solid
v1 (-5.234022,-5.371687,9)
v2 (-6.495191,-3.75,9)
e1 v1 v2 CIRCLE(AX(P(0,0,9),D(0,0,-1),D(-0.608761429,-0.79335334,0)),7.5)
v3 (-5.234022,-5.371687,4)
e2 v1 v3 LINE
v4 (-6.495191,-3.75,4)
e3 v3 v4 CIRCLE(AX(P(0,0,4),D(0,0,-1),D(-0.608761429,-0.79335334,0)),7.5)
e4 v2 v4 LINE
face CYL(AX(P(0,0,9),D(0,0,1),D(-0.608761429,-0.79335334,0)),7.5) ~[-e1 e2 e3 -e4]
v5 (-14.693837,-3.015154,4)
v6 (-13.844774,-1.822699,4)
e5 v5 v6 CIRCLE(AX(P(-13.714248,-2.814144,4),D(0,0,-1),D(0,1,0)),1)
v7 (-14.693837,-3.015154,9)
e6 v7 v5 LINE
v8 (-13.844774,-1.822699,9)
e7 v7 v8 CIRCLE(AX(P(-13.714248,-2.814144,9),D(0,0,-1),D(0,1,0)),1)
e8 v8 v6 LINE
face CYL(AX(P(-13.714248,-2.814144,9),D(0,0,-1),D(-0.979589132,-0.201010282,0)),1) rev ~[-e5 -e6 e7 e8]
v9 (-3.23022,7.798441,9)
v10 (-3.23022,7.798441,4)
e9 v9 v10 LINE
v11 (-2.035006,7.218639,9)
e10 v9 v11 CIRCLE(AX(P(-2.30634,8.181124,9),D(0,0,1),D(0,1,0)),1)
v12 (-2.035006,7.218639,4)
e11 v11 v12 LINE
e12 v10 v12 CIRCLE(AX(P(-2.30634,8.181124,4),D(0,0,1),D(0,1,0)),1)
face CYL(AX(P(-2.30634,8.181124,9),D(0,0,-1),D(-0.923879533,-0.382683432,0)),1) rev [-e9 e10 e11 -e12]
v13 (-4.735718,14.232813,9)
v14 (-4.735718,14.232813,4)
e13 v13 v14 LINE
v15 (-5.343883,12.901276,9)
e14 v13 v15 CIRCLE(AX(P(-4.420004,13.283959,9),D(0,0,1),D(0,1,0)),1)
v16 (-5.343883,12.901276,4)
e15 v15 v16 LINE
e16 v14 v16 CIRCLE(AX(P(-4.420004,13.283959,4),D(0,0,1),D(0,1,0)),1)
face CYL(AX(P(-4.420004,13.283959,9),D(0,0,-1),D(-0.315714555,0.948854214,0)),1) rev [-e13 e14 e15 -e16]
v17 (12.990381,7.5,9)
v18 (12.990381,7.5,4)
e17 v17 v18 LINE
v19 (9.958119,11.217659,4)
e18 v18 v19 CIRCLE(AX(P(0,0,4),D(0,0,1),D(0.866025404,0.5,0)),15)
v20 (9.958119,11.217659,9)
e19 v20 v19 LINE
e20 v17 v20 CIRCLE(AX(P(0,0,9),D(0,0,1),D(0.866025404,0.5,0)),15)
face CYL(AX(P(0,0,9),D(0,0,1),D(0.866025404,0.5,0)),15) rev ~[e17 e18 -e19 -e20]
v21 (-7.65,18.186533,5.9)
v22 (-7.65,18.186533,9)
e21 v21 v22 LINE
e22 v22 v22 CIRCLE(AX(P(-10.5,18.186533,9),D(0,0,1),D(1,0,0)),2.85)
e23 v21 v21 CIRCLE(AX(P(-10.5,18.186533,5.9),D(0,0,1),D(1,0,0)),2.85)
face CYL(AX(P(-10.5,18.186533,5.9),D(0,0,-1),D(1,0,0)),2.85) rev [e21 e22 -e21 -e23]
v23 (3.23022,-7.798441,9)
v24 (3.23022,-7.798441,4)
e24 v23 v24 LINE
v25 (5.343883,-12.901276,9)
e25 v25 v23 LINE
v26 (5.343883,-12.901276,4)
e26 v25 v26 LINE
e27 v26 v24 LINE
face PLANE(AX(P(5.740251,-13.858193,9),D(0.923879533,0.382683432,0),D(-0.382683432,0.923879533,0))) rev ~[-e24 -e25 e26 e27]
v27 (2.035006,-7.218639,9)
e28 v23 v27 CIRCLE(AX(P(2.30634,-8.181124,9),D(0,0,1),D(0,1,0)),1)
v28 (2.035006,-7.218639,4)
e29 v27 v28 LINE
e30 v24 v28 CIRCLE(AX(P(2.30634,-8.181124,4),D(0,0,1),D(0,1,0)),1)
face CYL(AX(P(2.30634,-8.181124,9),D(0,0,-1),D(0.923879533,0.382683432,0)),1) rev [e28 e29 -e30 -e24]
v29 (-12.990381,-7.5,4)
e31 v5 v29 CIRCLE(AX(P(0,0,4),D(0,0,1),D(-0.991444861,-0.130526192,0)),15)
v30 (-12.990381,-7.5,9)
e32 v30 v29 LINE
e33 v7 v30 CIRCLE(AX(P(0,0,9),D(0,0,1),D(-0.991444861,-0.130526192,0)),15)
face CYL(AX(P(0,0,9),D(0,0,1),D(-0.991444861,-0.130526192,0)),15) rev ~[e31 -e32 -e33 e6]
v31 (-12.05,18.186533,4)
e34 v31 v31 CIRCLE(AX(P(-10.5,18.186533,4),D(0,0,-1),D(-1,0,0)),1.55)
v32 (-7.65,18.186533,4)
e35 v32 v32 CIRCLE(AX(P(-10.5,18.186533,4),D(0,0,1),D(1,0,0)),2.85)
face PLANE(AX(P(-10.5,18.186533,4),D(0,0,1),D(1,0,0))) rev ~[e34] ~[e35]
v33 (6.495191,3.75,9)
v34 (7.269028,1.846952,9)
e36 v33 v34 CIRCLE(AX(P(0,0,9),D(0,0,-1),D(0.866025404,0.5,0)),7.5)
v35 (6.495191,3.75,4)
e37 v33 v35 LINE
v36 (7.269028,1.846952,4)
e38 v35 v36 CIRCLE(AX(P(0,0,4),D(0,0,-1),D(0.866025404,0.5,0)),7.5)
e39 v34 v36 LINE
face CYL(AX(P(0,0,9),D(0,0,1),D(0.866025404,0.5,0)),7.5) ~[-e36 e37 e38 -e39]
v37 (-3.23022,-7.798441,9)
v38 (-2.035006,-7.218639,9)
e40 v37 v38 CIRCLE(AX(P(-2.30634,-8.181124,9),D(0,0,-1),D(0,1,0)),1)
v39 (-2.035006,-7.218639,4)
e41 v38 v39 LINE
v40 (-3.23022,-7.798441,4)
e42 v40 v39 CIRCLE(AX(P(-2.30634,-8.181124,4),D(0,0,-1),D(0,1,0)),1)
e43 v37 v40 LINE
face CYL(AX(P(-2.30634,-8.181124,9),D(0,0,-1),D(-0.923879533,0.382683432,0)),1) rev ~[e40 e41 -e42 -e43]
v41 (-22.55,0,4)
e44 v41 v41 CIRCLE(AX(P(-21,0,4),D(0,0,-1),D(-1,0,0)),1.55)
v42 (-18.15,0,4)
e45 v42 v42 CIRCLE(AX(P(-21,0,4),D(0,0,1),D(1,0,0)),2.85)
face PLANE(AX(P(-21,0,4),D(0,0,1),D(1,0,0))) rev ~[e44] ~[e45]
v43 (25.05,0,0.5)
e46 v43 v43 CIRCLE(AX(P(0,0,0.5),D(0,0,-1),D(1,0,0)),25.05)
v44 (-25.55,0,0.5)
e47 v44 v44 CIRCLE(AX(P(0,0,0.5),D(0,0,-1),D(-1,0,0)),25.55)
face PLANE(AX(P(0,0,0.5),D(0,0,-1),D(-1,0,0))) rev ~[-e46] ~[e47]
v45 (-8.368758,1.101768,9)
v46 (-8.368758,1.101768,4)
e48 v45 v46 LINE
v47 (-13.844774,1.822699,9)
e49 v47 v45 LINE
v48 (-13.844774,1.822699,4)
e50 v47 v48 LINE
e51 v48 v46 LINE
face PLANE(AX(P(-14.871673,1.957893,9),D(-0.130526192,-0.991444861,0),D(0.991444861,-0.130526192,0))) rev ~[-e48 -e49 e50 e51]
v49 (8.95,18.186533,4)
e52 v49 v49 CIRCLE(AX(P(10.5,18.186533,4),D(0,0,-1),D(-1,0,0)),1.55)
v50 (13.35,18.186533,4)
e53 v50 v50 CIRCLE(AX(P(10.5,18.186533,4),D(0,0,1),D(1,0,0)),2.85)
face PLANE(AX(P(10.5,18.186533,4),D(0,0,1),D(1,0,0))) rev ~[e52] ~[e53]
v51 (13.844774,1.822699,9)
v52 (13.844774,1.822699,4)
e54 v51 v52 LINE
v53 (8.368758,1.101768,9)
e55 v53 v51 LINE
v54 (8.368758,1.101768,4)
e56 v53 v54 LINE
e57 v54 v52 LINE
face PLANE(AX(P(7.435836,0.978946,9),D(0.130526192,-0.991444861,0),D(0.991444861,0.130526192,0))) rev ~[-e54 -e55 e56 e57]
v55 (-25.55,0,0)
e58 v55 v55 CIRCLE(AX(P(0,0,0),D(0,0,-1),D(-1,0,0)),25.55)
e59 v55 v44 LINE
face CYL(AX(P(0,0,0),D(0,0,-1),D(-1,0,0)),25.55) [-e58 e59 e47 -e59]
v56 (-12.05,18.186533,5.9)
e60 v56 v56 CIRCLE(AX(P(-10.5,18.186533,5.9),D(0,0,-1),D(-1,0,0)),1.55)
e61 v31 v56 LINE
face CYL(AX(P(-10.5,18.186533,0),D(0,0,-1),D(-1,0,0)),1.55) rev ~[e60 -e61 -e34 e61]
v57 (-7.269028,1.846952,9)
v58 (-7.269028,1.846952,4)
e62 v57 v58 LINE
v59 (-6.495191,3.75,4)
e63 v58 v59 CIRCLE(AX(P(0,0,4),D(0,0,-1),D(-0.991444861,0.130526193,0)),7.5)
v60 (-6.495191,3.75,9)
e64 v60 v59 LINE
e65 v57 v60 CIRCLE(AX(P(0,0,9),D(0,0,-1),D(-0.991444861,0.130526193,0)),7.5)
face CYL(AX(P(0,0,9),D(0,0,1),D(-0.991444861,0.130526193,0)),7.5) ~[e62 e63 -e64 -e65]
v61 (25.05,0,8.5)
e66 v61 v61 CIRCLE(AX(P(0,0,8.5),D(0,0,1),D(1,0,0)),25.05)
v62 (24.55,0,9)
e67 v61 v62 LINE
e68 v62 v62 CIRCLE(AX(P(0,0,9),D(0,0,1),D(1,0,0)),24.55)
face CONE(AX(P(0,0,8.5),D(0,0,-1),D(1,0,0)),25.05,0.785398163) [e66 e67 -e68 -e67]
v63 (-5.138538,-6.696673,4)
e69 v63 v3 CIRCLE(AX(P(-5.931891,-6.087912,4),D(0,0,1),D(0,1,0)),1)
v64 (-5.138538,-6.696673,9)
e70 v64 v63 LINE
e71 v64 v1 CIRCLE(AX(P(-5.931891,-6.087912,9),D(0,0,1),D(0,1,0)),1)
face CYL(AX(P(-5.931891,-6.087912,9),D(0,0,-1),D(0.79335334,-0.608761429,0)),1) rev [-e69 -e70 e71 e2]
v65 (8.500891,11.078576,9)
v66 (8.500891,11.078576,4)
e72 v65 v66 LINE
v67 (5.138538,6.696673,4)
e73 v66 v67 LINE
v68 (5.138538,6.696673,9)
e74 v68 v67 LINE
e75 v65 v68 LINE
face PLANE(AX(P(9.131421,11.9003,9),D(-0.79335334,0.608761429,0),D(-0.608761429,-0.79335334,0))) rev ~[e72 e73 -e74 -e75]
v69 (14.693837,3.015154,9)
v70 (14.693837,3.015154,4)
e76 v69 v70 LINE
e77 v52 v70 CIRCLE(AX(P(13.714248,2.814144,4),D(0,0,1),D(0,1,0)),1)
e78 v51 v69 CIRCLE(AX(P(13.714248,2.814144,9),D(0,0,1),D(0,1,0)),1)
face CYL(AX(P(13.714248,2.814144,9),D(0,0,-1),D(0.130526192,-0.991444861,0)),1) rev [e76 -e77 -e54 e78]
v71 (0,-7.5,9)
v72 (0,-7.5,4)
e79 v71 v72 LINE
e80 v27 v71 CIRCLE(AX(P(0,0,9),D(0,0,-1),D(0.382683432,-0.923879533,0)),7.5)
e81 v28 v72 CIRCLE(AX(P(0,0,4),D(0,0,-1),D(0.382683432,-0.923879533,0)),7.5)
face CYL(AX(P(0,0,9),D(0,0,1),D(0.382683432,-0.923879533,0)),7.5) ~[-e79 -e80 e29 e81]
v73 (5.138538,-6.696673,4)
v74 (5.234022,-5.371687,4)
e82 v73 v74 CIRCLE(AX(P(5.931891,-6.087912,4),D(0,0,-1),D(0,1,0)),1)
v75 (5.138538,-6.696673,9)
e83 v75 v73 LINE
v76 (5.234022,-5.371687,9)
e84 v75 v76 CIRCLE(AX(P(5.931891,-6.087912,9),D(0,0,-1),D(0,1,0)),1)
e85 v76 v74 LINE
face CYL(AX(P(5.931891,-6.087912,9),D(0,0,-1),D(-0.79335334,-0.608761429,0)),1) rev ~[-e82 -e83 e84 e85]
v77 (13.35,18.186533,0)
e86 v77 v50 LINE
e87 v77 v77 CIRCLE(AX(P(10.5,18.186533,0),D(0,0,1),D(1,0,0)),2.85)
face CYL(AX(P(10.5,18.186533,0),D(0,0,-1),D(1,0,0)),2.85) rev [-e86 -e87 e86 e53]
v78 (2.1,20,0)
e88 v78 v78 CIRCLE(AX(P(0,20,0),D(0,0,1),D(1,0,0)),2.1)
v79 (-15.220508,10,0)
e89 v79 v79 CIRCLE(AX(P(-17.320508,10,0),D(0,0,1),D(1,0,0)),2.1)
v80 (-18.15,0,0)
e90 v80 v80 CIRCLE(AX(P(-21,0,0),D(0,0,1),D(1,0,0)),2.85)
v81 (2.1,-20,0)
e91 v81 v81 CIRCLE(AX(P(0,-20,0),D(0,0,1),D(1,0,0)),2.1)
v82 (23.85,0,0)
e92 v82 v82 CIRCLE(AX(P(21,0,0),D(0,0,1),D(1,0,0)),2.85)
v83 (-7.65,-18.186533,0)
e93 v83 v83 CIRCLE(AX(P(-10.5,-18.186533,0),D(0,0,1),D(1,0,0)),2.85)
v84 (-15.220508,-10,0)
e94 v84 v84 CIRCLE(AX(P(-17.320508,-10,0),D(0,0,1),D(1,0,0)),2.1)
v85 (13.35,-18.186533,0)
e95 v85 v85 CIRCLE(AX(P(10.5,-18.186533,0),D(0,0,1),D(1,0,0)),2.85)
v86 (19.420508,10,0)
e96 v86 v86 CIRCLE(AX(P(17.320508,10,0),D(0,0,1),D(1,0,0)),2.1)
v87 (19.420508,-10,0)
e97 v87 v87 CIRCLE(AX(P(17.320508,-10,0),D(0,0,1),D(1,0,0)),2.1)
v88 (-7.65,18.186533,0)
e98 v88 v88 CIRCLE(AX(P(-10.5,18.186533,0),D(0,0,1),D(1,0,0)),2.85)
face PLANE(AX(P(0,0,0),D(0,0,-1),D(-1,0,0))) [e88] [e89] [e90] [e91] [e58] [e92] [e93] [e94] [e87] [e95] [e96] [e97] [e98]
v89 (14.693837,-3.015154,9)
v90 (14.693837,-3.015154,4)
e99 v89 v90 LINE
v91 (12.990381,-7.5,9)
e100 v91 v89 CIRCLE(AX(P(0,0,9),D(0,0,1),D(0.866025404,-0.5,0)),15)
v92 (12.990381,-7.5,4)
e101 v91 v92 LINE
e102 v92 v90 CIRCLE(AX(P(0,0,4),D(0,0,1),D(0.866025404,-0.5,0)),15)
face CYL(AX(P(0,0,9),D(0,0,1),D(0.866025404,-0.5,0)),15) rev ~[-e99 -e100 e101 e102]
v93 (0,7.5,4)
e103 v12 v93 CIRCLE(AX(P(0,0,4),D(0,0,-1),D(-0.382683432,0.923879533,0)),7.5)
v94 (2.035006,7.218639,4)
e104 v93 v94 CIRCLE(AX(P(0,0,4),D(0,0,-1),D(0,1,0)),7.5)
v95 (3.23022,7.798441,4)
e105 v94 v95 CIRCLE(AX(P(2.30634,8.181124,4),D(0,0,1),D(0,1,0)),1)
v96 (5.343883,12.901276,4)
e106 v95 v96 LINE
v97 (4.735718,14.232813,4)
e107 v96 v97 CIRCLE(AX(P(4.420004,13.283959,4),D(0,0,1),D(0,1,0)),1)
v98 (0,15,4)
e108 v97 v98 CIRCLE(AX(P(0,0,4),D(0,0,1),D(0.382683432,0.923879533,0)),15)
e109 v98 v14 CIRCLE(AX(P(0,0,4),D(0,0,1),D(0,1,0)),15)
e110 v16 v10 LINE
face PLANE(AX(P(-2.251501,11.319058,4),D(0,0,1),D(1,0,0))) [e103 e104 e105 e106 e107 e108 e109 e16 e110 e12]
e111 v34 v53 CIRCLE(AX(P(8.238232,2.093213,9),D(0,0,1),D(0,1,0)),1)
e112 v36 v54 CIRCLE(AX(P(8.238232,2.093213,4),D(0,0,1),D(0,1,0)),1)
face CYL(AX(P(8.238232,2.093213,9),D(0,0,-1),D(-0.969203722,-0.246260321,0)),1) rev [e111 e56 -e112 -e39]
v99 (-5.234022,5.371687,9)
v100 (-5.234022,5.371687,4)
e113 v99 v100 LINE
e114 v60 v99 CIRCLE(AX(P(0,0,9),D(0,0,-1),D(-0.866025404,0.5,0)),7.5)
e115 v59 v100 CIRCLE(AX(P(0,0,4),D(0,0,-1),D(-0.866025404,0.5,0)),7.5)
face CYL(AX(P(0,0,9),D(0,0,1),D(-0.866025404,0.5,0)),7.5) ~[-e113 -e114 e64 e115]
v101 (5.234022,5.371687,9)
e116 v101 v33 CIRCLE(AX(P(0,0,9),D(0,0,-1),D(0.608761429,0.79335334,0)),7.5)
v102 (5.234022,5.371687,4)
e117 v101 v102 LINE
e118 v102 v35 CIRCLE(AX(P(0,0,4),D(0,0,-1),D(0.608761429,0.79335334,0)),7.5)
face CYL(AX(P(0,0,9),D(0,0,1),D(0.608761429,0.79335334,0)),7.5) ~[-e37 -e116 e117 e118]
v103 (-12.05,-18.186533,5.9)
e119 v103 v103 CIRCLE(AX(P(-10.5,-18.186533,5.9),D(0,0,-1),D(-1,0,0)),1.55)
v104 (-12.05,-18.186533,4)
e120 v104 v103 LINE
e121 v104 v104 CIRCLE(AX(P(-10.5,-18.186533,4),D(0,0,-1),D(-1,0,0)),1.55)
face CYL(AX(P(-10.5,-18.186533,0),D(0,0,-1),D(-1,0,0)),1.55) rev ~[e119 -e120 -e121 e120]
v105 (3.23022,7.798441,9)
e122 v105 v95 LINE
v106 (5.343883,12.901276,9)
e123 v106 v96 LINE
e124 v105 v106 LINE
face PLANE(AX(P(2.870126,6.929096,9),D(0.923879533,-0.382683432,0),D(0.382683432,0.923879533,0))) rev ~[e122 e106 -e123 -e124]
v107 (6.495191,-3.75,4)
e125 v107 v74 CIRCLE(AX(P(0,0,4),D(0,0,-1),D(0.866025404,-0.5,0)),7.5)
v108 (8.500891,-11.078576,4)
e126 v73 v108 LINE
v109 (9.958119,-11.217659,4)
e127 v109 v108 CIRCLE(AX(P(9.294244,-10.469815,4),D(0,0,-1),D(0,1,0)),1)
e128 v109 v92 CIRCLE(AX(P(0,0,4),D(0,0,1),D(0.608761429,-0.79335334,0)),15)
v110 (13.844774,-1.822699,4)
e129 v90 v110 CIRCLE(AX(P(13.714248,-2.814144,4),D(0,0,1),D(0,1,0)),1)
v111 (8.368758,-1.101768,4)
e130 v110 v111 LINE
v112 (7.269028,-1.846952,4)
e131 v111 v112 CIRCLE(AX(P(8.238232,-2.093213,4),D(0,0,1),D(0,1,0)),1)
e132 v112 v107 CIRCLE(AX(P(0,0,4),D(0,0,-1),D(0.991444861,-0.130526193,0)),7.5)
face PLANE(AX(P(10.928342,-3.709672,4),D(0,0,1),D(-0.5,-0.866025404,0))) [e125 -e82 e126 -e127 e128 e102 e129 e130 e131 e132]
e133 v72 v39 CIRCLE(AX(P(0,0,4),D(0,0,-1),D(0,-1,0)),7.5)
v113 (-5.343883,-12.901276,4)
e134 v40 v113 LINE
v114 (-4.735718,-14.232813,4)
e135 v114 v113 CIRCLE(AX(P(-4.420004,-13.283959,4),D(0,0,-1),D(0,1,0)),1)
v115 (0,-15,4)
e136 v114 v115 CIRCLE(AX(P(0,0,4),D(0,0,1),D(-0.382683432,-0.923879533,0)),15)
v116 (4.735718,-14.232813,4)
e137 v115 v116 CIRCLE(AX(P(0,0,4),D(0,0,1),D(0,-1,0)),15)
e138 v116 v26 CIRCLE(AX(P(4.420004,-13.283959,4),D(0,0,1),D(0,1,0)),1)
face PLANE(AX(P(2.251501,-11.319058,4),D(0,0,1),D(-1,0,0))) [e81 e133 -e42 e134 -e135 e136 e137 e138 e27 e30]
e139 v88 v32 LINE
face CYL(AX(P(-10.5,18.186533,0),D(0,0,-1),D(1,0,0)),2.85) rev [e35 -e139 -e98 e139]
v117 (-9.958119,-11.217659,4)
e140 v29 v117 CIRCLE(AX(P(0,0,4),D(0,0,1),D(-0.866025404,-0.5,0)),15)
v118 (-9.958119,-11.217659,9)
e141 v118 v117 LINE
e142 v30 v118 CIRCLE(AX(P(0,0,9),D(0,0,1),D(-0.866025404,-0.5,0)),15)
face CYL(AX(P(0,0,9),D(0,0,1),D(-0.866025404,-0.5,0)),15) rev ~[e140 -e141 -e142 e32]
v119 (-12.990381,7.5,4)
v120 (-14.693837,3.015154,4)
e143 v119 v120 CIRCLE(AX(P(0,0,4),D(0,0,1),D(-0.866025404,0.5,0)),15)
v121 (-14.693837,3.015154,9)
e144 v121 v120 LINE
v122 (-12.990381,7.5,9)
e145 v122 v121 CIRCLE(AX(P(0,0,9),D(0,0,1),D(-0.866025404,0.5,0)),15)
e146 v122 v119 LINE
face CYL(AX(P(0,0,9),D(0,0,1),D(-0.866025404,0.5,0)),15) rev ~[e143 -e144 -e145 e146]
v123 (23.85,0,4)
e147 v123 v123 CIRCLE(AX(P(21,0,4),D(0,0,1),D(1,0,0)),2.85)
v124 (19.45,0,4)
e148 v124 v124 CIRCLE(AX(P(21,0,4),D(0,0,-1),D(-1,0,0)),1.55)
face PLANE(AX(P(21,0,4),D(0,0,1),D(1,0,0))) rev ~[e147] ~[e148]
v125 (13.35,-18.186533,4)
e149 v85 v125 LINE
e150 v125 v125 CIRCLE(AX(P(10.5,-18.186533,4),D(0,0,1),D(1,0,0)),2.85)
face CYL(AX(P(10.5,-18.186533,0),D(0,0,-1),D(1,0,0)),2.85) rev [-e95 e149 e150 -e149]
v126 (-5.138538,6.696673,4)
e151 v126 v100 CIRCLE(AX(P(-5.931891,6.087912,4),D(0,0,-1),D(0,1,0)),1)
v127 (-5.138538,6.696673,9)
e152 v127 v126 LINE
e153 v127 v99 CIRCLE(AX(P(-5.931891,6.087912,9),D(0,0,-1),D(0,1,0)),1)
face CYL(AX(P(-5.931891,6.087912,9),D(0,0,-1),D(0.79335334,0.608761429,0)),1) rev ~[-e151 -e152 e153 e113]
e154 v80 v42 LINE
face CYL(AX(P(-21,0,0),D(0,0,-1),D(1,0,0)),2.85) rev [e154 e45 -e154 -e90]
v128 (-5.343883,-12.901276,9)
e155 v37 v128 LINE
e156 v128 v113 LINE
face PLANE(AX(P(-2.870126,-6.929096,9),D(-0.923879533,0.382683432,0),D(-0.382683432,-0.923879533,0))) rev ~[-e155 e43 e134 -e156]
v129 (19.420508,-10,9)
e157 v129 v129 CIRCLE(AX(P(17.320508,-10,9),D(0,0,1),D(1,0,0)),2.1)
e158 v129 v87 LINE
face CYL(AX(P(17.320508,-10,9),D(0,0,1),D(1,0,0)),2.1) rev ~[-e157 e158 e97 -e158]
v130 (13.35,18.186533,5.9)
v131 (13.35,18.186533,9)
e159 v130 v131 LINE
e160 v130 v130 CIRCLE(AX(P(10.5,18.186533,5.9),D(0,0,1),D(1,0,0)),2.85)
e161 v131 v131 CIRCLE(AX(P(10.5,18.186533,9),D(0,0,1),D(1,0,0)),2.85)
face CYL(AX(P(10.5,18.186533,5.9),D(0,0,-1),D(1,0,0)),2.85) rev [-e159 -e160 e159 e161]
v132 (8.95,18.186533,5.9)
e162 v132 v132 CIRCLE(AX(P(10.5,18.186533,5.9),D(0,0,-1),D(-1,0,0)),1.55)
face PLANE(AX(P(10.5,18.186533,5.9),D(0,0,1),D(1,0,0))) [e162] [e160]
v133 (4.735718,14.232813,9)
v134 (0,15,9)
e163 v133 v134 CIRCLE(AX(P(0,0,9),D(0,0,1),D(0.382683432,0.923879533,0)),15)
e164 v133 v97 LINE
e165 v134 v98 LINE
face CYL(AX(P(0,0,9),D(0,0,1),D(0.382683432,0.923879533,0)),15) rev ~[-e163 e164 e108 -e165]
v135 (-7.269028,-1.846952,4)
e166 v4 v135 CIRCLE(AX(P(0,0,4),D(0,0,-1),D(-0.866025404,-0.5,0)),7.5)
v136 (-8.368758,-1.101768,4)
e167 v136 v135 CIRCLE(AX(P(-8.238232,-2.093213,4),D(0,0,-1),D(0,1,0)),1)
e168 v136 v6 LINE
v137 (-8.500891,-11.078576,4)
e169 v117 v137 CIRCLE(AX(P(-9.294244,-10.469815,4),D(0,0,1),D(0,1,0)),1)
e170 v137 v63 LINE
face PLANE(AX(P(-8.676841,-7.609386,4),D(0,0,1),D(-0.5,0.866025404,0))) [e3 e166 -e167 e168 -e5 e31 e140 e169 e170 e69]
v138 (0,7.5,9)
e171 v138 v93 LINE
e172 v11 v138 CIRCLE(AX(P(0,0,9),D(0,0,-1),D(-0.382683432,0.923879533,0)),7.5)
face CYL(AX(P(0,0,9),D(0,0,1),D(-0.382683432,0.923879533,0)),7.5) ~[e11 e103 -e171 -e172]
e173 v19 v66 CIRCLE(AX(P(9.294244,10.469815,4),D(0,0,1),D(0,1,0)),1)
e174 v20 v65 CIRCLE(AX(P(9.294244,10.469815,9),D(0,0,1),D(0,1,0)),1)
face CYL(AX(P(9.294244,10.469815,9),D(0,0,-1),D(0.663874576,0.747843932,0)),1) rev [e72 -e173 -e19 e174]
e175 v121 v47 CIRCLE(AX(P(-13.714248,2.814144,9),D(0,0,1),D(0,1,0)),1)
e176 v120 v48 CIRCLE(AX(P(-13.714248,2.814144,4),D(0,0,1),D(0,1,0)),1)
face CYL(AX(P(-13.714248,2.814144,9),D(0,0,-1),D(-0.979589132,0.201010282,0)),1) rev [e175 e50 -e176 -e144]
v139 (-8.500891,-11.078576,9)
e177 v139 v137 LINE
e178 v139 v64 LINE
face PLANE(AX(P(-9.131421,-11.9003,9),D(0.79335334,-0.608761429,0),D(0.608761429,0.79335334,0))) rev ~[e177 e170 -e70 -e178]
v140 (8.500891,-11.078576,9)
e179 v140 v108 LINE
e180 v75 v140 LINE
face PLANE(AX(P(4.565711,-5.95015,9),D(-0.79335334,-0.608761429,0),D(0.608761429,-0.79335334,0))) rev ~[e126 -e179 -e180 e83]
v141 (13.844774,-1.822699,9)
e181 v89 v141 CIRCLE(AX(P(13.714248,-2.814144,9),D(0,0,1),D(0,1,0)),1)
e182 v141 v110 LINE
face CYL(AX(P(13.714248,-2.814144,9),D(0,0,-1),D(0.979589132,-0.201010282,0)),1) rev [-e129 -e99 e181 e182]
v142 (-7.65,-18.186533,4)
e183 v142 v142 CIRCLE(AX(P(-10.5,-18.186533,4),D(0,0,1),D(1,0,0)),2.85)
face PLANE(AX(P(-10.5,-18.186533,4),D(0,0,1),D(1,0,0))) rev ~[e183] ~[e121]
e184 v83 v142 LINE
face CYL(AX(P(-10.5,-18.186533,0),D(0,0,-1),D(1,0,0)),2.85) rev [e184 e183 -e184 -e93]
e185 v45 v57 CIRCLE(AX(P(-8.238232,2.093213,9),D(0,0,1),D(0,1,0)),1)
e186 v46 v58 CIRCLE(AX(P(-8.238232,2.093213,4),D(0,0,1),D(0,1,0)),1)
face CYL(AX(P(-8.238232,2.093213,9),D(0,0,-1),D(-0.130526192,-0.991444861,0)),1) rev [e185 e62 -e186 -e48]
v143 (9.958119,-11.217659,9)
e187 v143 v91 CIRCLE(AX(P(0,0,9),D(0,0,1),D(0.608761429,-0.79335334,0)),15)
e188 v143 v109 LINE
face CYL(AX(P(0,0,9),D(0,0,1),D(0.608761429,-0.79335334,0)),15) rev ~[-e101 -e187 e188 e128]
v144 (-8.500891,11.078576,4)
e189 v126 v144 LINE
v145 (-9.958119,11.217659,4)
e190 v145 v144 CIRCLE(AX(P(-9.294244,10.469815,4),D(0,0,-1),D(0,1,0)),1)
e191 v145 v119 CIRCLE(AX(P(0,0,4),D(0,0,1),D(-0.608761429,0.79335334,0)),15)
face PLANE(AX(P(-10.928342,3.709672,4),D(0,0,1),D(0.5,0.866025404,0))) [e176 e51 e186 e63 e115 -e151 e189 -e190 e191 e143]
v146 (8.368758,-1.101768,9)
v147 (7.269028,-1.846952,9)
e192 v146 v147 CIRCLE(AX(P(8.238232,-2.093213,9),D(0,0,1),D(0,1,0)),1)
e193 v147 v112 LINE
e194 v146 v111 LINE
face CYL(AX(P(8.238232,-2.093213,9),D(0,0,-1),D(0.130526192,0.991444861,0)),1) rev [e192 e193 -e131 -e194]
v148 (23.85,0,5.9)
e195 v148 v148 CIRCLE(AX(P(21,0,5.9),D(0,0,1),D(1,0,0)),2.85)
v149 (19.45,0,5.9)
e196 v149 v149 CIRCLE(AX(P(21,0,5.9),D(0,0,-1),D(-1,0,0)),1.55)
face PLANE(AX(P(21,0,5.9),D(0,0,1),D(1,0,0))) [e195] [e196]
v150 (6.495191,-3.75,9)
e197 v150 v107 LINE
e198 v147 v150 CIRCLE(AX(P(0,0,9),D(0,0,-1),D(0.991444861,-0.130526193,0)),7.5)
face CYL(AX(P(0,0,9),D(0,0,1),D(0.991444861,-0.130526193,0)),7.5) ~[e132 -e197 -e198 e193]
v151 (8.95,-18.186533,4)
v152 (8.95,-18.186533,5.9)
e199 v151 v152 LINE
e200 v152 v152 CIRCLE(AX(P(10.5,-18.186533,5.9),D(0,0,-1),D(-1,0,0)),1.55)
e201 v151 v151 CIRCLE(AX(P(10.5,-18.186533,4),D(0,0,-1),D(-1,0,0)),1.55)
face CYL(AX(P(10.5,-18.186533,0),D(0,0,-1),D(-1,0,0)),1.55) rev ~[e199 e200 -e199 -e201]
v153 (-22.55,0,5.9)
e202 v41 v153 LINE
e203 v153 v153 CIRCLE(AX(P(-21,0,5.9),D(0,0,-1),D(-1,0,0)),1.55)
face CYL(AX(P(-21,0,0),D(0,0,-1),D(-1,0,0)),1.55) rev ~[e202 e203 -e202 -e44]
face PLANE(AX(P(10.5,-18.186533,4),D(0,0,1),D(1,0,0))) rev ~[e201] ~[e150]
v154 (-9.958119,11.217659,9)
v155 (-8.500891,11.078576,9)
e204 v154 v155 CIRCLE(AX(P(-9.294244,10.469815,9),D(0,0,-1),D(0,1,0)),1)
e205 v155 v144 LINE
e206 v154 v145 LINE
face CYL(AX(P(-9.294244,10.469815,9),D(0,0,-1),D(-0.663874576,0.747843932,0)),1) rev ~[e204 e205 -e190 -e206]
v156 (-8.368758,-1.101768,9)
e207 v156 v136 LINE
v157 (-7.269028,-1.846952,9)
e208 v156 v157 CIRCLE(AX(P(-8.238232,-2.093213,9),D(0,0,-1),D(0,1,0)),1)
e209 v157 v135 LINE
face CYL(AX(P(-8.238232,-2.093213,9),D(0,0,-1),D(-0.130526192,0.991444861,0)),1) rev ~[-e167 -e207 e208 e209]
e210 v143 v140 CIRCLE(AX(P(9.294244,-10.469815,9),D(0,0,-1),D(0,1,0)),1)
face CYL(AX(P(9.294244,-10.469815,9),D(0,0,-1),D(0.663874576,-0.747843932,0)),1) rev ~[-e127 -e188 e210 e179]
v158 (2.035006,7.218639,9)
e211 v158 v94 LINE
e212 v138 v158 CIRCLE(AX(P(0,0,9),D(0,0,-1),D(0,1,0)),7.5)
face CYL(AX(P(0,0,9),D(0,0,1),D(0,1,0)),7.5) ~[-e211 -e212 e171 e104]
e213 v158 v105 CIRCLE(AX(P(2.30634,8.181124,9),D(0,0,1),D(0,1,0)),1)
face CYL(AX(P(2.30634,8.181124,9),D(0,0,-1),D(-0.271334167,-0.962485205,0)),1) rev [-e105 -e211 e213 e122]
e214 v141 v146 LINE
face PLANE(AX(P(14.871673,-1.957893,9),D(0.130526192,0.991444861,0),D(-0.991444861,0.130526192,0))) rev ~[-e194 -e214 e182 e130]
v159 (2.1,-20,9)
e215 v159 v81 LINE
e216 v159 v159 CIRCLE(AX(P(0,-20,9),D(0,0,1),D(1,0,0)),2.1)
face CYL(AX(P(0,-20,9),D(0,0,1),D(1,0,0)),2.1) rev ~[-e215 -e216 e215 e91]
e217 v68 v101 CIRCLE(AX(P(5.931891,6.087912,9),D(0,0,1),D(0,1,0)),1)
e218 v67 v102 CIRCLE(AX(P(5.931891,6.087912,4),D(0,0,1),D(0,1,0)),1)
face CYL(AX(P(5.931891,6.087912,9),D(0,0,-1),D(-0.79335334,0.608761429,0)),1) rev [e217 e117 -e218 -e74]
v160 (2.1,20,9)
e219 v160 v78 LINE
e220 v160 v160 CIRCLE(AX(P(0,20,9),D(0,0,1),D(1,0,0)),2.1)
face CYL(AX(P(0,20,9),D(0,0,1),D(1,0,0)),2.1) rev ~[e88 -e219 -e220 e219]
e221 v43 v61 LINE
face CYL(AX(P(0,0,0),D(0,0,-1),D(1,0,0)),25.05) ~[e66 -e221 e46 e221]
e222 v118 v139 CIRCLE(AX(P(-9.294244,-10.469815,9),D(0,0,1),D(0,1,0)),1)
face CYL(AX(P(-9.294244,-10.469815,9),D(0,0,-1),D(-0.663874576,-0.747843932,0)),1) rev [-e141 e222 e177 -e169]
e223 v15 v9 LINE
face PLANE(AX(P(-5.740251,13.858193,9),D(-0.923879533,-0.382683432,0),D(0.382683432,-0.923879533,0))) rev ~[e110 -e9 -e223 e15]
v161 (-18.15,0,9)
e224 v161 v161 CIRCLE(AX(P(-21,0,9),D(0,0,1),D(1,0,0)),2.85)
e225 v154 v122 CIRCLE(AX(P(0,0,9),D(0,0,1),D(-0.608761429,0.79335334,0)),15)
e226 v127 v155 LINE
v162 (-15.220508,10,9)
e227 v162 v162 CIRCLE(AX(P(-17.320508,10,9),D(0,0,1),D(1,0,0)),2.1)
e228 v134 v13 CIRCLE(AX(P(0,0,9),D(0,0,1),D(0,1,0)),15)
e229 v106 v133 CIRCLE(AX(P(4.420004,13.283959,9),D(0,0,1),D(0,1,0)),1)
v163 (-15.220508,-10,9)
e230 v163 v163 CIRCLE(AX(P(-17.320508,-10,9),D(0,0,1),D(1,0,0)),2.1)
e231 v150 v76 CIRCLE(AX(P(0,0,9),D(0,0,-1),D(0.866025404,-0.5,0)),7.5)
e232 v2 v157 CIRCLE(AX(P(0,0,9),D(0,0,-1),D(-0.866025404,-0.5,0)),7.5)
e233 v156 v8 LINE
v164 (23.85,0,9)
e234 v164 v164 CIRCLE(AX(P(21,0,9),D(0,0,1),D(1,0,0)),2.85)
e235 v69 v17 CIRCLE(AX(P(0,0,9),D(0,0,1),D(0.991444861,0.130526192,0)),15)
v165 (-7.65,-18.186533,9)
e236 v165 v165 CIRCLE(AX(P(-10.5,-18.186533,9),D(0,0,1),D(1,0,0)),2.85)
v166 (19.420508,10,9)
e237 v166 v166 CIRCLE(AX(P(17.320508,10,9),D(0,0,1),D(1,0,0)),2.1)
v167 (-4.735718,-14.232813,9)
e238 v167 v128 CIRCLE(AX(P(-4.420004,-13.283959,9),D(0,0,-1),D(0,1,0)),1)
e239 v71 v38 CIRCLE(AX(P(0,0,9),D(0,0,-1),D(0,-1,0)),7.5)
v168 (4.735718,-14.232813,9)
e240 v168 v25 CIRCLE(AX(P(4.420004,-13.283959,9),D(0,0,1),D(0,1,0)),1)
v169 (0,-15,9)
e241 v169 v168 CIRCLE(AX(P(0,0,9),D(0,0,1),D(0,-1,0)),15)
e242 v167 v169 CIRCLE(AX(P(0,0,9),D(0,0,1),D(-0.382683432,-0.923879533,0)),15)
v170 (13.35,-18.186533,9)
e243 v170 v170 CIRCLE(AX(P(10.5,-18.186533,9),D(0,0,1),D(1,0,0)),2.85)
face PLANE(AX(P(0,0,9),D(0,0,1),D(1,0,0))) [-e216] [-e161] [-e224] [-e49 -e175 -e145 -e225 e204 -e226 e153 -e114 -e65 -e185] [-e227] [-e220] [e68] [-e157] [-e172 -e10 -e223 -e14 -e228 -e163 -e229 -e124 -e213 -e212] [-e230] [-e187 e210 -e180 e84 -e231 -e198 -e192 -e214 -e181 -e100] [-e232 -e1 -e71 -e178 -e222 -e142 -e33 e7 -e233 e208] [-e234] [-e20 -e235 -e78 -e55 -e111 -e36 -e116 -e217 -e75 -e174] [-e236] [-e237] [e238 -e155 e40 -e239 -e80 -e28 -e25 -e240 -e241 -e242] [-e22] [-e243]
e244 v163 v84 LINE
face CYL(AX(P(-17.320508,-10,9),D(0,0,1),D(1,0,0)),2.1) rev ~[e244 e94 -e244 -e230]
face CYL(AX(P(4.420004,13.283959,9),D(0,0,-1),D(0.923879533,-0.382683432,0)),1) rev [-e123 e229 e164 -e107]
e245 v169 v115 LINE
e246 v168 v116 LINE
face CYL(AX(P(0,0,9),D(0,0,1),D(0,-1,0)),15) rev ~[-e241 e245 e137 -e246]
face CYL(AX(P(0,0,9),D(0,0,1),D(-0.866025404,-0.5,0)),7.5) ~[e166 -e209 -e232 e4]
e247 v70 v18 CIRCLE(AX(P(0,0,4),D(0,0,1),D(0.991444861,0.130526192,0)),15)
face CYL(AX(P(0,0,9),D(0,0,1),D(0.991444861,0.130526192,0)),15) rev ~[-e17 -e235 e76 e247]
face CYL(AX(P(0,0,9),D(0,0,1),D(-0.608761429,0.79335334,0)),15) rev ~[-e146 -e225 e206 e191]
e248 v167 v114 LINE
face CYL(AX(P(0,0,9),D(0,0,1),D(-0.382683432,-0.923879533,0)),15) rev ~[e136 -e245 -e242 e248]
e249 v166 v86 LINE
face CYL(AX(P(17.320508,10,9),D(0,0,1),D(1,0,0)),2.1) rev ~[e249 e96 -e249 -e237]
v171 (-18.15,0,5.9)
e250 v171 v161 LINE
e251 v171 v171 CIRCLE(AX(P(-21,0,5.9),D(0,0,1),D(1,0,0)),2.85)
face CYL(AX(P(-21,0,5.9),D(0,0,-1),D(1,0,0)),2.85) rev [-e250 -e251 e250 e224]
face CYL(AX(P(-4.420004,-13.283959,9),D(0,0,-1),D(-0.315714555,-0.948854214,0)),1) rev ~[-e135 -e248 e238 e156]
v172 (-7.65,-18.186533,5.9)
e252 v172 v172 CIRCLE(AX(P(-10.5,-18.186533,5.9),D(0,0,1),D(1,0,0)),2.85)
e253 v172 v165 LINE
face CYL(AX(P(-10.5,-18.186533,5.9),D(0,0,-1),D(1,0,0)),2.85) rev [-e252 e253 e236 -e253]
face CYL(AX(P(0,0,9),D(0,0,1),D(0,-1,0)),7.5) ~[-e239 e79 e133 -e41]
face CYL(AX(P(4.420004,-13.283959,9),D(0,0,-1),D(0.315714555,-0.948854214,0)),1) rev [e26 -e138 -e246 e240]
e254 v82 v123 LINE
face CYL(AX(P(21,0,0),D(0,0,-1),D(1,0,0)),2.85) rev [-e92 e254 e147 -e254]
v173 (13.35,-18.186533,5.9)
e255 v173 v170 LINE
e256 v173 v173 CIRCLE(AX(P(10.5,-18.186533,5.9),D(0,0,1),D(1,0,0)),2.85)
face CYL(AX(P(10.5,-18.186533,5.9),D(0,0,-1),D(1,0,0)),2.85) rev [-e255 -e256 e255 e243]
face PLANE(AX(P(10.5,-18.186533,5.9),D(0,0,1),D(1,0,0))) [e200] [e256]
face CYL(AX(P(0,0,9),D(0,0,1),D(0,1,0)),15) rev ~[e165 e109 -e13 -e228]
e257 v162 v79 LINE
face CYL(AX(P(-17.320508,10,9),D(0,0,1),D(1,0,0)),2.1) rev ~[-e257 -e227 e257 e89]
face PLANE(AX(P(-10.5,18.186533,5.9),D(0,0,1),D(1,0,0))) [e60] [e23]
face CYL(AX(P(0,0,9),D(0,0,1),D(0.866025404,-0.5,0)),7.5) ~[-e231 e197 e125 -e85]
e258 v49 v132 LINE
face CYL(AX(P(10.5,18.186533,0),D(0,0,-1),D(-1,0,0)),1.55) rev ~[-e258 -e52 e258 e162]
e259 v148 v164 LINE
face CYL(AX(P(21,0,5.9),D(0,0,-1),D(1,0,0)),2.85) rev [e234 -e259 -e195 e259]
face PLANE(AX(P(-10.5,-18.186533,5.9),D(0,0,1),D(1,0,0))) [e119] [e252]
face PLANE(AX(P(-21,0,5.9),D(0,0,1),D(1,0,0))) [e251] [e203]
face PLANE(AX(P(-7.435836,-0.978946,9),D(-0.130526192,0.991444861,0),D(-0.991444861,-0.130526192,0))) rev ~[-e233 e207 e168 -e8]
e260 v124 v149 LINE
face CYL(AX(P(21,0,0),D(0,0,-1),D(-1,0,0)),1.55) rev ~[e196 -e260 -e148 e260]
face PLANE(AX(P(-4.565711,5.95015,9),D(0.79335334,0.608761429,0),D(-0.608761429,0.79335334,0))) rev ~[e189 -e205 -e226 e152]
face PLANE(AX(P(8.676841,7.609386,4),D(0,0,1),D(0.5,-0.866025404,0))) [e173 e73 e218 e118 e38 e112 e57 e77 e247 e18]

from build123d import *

# Parameters (mm, degrees)
OUTPUT_MASTER_SKETCH_R   = 25.05
BOSS_EXTRUDE1_DEPTH      = 9
SKETCH4_R                = 2.85
CUT_EXTRUDE1_DEPTH       = 4
SKETCH5_R                = 25.55
SKETCH5_R_2              = 25.05
BOSS_EXTRUDE2_DEPTH      = 0.5
SKETCH6_R                = 1.55
CUT_EXTRUDE2_DEPTH       = 38.237145433
CUT_EXTRUDE3_START       = -3.1
SKETCH7_R                = 2.85
CUT_EXTRUDE3_DEPTH       = 3.1
CHAMFER1_SIZE            = 0.5
SKETCH10_R               = 2.1
M4_THRU_DEPTH            = 38.237145433
CUT_EXTRUDE4_DEPTH       = 5
FILLET1_R                = 1
CIRPATTERN1_COUNT        = 6
FILLET1_OF_CIRPATTERN1_R = 1


with BuildPart() as part:
    # Output Master Sketch → Boss-Extrude1 (new body)
    with BuildSketch(Plane.XY):
        Circle(OUTPUT_MASTER_SKETCH_R)
    extrude(amount=BOSS_EXTRUDE1_DEPTH)

    # Sketch4 → Cut-Extrude1 (cut)
    with BuildSketch(Plane.XY):
        with Locations((21, 0)):
            Circle(SKETCH4_R)
        with Locations((10.5, -18.186533479)):
            Circle(SKETCH4_R)
        with Locations((-10.5, -18.186533479)):
            Circle(SKETCH4_R)
        with Locations((-21, 0)):
            Circle(SKETCH4_R)
        with Locations((-10.5, 18.186533479)):
            Circle(SKETCH4_R)
        with Locations((10.5, 18.186533479)):
            Circle(SKETCH4_R)
    extrude(amount=CUT_EXTRUDE1_DEPTH, mode=Mode.SUBTRACT)

    # Sketch5 → Boss-Extrude2 (add)
    with BuildSketch(Plane(origin=(0, 0, 0), x_dir=(-1, 0, 0), z_dir=(0, 0, -1))):
        Circle(SKETCH5_R)
        Circle(SKETCH5_R_2, mode=Mode.SUBTRACT)
    extrude(amount=-BOSS_EXTRUDE2_DEPTH)

    # Sketch6 → Cut-Extrude2 (cut, through all)
    with BuildSketch(Plane(origin=(0, 0, 0), x_dir=(-1, 0, 0), z_dir=(0, 0, -1))):
        with Locations((-21, 0)):
            Circle(SKETCH6_R)
        with Locations((-10.5, 18.186533479)):
            Circle(SKETCH6_R)
        with Locations((10.5, 18.186533479)):
            Circle(SKETCH6_R)
        with Locations((21, 0)):
            Circle(SKETCH6_R)
        with Locations((10.5, -18.186533479)):
            Circle(SKETCH6_R)
        with Locations((-10.5, -18.186533479)):
            Circle(SKETCH6_R)
    extrude(amount=-CUT_EXTRUDE2_DEPTH, mode=Mode.SUBTRACT)

    # Sketch7 → Cut-Extrude3 (cut)
    with BuildSketch(Plane.XY.offset(9).offset(CUT_EXTRUDE3_START)):
        with Locations((-21, 0)):
            Circle(SKETCH7_R)
        with Locations((-10.5, 18.186533479)):
            Circle(SKETCH7_R)
        with Locations((10.5, 18.186533479)):
            Circle(SKETCH7_R)
        with Locations((21, 0)):
            Circle(SKETCH7_R)
        with Locations((10.5, -18.186533479)):
            Circle(SKETCH7_R)
        with Locations((-10.5, -18.186533479)):
            Circle(SKETCH7_R)
    extrude(amount=CUT_EXTRUDE3_DEPTH, mode=Mode.SUBTRACT)

    # Chamfer1
    chamfer1_edges = [part.edges().sort_by_distance(p)[0] for p in [
        (-25.05, 0, 9),
    ]]
    chamfer(chamfer1_edges, length=CHAMFER1_SIZE)

    # Sketch10 → M4 Thru (cut, through all)
    with BuildSketch(Plane.XY.offset(9)):
        with Locations((0, 20)):
            Circle(SKETCH10_R)
        with Locations((17.320508076, 10)):
            Circle(SKETCH10_R)
        with Locations((17.320508076, -10)):
            Circle(SKETCH10_R)
        with Locations((0, -20)):
            Circle(SKETCH10_R)
        with Locations((-17.320508076, -10)):
            Circle(SKETCH10_R)
        with Locations((-17.320508076, 10)):
            Circle(SKETCH10_R)
    extrude(amount=-M4_THRU_DEPTH, mode=Mode.SUBTRACT)

    # Sketch12 → Cut-Extrude4 (cut)
    with BuildSketch(Plane.XY.offset(9)):
        with BuildLine():
            Line((0, 7.5), (0, 15))
            ThreePointArc((0, 15), (-2.92635483, 14.711779206), (-5.740251485, 13.858192988))
            Line((-5.740251485, 13.858192988), (-2.870125743, 6.929096494))
            ThreePointArc((-2.870125743, 6.929096494), (-1.463177415, 7.355889603), (0, 7.5))
        make_face()
        with BuildLine():
            ThreePointArc((5.740251485, 13.858192988), (2.92635483, 14.711779206), (0, 15))
            Line((0, 15), (0, 7.5))
            ThreePointArc((0, 7.5), (1.463177415, 7.355889603), (2.870125743, 6.929096494))
            Line((2.870125743, 6.929096494), (5.740251485, 13.858192988))
        make_face()
    cut_extrude4 = extrude(amount=-CUT_EXTRUDE4_DEPTH, mode=Mode.SUBTRACT)

    # Fillet1
    fillet1_edges = [part.edges().sort_by_distance(p)[0] for p in [
        (2.870125743, 6.929096494, 6.5),
        (-2.870125743, 6.929096494, 6.5),
        (-5.740251485, 13.858192988, 6.5),
        (5.740251485, 13.858192988, 6.5),
    ]]
    fillet(fillet1_edges, radius=FILLET1_R)

    # CirPattern1: Cut-Extrude4 ×6 about axis
    cirpattern1_axis = Axis((0, 0, 0), (0, 0, 1))
    for i in range(1, CIRPATTERN1_COUNT):
        add(cut_extrude4.rotate(cirpattern1_axis, i * 360 / CIRPATTERN1_COUNT), mode=Mode.SUBTRACT)

    # Fillet1 of CirPattern1
    fillet1_of_cirpattern1_edges = [part.edges().sort_by_distance(p)[0] for p in [
        (-4.565710718, 5.950150052, 6.5),
        (-7.43583646, 0.978946442, 6.5),
        (-14.871672921, 1.957892883, 6.5),
        (-9.131421435, 11.900300104, 6.5),
        (-7.43583646, -0.978946442, 6.5),
        (-4.565710718, -5.950150052, 6.5),
        (-9.131421435, -11.900300104, 6.5),
        (-14.871672921, -1.957892883, 6.5),
        (-2.870125743, -6.929096494, 6.5),
        (2.870125743, -6.929096494, 6.5),
        (5.740251485, -13.858192988, 6.5),
        (-5.740251485, -13.858192988, 6.5),
        (4.565710718, -5.950150052, 6.5),
        (7.43583646, -0.978946442, 6.5),
        (14.871672921, -1.957892883, 6.5),
        (9.131421435, -11.900300104, 6.5),
        (7.43583646, 0.978946442, 6.5),
        (4.565710718, 5.950150052, 6.5),
        (9.131421435, 11.900300104, 6.5),
        (14.871672921, 1.957892883, 6.5),
    ]]
    fillet(fillet1_of_cirpattern1_edges, radius=FILLET1_OF_CIRPATTERN1_R)


solid = part.part
